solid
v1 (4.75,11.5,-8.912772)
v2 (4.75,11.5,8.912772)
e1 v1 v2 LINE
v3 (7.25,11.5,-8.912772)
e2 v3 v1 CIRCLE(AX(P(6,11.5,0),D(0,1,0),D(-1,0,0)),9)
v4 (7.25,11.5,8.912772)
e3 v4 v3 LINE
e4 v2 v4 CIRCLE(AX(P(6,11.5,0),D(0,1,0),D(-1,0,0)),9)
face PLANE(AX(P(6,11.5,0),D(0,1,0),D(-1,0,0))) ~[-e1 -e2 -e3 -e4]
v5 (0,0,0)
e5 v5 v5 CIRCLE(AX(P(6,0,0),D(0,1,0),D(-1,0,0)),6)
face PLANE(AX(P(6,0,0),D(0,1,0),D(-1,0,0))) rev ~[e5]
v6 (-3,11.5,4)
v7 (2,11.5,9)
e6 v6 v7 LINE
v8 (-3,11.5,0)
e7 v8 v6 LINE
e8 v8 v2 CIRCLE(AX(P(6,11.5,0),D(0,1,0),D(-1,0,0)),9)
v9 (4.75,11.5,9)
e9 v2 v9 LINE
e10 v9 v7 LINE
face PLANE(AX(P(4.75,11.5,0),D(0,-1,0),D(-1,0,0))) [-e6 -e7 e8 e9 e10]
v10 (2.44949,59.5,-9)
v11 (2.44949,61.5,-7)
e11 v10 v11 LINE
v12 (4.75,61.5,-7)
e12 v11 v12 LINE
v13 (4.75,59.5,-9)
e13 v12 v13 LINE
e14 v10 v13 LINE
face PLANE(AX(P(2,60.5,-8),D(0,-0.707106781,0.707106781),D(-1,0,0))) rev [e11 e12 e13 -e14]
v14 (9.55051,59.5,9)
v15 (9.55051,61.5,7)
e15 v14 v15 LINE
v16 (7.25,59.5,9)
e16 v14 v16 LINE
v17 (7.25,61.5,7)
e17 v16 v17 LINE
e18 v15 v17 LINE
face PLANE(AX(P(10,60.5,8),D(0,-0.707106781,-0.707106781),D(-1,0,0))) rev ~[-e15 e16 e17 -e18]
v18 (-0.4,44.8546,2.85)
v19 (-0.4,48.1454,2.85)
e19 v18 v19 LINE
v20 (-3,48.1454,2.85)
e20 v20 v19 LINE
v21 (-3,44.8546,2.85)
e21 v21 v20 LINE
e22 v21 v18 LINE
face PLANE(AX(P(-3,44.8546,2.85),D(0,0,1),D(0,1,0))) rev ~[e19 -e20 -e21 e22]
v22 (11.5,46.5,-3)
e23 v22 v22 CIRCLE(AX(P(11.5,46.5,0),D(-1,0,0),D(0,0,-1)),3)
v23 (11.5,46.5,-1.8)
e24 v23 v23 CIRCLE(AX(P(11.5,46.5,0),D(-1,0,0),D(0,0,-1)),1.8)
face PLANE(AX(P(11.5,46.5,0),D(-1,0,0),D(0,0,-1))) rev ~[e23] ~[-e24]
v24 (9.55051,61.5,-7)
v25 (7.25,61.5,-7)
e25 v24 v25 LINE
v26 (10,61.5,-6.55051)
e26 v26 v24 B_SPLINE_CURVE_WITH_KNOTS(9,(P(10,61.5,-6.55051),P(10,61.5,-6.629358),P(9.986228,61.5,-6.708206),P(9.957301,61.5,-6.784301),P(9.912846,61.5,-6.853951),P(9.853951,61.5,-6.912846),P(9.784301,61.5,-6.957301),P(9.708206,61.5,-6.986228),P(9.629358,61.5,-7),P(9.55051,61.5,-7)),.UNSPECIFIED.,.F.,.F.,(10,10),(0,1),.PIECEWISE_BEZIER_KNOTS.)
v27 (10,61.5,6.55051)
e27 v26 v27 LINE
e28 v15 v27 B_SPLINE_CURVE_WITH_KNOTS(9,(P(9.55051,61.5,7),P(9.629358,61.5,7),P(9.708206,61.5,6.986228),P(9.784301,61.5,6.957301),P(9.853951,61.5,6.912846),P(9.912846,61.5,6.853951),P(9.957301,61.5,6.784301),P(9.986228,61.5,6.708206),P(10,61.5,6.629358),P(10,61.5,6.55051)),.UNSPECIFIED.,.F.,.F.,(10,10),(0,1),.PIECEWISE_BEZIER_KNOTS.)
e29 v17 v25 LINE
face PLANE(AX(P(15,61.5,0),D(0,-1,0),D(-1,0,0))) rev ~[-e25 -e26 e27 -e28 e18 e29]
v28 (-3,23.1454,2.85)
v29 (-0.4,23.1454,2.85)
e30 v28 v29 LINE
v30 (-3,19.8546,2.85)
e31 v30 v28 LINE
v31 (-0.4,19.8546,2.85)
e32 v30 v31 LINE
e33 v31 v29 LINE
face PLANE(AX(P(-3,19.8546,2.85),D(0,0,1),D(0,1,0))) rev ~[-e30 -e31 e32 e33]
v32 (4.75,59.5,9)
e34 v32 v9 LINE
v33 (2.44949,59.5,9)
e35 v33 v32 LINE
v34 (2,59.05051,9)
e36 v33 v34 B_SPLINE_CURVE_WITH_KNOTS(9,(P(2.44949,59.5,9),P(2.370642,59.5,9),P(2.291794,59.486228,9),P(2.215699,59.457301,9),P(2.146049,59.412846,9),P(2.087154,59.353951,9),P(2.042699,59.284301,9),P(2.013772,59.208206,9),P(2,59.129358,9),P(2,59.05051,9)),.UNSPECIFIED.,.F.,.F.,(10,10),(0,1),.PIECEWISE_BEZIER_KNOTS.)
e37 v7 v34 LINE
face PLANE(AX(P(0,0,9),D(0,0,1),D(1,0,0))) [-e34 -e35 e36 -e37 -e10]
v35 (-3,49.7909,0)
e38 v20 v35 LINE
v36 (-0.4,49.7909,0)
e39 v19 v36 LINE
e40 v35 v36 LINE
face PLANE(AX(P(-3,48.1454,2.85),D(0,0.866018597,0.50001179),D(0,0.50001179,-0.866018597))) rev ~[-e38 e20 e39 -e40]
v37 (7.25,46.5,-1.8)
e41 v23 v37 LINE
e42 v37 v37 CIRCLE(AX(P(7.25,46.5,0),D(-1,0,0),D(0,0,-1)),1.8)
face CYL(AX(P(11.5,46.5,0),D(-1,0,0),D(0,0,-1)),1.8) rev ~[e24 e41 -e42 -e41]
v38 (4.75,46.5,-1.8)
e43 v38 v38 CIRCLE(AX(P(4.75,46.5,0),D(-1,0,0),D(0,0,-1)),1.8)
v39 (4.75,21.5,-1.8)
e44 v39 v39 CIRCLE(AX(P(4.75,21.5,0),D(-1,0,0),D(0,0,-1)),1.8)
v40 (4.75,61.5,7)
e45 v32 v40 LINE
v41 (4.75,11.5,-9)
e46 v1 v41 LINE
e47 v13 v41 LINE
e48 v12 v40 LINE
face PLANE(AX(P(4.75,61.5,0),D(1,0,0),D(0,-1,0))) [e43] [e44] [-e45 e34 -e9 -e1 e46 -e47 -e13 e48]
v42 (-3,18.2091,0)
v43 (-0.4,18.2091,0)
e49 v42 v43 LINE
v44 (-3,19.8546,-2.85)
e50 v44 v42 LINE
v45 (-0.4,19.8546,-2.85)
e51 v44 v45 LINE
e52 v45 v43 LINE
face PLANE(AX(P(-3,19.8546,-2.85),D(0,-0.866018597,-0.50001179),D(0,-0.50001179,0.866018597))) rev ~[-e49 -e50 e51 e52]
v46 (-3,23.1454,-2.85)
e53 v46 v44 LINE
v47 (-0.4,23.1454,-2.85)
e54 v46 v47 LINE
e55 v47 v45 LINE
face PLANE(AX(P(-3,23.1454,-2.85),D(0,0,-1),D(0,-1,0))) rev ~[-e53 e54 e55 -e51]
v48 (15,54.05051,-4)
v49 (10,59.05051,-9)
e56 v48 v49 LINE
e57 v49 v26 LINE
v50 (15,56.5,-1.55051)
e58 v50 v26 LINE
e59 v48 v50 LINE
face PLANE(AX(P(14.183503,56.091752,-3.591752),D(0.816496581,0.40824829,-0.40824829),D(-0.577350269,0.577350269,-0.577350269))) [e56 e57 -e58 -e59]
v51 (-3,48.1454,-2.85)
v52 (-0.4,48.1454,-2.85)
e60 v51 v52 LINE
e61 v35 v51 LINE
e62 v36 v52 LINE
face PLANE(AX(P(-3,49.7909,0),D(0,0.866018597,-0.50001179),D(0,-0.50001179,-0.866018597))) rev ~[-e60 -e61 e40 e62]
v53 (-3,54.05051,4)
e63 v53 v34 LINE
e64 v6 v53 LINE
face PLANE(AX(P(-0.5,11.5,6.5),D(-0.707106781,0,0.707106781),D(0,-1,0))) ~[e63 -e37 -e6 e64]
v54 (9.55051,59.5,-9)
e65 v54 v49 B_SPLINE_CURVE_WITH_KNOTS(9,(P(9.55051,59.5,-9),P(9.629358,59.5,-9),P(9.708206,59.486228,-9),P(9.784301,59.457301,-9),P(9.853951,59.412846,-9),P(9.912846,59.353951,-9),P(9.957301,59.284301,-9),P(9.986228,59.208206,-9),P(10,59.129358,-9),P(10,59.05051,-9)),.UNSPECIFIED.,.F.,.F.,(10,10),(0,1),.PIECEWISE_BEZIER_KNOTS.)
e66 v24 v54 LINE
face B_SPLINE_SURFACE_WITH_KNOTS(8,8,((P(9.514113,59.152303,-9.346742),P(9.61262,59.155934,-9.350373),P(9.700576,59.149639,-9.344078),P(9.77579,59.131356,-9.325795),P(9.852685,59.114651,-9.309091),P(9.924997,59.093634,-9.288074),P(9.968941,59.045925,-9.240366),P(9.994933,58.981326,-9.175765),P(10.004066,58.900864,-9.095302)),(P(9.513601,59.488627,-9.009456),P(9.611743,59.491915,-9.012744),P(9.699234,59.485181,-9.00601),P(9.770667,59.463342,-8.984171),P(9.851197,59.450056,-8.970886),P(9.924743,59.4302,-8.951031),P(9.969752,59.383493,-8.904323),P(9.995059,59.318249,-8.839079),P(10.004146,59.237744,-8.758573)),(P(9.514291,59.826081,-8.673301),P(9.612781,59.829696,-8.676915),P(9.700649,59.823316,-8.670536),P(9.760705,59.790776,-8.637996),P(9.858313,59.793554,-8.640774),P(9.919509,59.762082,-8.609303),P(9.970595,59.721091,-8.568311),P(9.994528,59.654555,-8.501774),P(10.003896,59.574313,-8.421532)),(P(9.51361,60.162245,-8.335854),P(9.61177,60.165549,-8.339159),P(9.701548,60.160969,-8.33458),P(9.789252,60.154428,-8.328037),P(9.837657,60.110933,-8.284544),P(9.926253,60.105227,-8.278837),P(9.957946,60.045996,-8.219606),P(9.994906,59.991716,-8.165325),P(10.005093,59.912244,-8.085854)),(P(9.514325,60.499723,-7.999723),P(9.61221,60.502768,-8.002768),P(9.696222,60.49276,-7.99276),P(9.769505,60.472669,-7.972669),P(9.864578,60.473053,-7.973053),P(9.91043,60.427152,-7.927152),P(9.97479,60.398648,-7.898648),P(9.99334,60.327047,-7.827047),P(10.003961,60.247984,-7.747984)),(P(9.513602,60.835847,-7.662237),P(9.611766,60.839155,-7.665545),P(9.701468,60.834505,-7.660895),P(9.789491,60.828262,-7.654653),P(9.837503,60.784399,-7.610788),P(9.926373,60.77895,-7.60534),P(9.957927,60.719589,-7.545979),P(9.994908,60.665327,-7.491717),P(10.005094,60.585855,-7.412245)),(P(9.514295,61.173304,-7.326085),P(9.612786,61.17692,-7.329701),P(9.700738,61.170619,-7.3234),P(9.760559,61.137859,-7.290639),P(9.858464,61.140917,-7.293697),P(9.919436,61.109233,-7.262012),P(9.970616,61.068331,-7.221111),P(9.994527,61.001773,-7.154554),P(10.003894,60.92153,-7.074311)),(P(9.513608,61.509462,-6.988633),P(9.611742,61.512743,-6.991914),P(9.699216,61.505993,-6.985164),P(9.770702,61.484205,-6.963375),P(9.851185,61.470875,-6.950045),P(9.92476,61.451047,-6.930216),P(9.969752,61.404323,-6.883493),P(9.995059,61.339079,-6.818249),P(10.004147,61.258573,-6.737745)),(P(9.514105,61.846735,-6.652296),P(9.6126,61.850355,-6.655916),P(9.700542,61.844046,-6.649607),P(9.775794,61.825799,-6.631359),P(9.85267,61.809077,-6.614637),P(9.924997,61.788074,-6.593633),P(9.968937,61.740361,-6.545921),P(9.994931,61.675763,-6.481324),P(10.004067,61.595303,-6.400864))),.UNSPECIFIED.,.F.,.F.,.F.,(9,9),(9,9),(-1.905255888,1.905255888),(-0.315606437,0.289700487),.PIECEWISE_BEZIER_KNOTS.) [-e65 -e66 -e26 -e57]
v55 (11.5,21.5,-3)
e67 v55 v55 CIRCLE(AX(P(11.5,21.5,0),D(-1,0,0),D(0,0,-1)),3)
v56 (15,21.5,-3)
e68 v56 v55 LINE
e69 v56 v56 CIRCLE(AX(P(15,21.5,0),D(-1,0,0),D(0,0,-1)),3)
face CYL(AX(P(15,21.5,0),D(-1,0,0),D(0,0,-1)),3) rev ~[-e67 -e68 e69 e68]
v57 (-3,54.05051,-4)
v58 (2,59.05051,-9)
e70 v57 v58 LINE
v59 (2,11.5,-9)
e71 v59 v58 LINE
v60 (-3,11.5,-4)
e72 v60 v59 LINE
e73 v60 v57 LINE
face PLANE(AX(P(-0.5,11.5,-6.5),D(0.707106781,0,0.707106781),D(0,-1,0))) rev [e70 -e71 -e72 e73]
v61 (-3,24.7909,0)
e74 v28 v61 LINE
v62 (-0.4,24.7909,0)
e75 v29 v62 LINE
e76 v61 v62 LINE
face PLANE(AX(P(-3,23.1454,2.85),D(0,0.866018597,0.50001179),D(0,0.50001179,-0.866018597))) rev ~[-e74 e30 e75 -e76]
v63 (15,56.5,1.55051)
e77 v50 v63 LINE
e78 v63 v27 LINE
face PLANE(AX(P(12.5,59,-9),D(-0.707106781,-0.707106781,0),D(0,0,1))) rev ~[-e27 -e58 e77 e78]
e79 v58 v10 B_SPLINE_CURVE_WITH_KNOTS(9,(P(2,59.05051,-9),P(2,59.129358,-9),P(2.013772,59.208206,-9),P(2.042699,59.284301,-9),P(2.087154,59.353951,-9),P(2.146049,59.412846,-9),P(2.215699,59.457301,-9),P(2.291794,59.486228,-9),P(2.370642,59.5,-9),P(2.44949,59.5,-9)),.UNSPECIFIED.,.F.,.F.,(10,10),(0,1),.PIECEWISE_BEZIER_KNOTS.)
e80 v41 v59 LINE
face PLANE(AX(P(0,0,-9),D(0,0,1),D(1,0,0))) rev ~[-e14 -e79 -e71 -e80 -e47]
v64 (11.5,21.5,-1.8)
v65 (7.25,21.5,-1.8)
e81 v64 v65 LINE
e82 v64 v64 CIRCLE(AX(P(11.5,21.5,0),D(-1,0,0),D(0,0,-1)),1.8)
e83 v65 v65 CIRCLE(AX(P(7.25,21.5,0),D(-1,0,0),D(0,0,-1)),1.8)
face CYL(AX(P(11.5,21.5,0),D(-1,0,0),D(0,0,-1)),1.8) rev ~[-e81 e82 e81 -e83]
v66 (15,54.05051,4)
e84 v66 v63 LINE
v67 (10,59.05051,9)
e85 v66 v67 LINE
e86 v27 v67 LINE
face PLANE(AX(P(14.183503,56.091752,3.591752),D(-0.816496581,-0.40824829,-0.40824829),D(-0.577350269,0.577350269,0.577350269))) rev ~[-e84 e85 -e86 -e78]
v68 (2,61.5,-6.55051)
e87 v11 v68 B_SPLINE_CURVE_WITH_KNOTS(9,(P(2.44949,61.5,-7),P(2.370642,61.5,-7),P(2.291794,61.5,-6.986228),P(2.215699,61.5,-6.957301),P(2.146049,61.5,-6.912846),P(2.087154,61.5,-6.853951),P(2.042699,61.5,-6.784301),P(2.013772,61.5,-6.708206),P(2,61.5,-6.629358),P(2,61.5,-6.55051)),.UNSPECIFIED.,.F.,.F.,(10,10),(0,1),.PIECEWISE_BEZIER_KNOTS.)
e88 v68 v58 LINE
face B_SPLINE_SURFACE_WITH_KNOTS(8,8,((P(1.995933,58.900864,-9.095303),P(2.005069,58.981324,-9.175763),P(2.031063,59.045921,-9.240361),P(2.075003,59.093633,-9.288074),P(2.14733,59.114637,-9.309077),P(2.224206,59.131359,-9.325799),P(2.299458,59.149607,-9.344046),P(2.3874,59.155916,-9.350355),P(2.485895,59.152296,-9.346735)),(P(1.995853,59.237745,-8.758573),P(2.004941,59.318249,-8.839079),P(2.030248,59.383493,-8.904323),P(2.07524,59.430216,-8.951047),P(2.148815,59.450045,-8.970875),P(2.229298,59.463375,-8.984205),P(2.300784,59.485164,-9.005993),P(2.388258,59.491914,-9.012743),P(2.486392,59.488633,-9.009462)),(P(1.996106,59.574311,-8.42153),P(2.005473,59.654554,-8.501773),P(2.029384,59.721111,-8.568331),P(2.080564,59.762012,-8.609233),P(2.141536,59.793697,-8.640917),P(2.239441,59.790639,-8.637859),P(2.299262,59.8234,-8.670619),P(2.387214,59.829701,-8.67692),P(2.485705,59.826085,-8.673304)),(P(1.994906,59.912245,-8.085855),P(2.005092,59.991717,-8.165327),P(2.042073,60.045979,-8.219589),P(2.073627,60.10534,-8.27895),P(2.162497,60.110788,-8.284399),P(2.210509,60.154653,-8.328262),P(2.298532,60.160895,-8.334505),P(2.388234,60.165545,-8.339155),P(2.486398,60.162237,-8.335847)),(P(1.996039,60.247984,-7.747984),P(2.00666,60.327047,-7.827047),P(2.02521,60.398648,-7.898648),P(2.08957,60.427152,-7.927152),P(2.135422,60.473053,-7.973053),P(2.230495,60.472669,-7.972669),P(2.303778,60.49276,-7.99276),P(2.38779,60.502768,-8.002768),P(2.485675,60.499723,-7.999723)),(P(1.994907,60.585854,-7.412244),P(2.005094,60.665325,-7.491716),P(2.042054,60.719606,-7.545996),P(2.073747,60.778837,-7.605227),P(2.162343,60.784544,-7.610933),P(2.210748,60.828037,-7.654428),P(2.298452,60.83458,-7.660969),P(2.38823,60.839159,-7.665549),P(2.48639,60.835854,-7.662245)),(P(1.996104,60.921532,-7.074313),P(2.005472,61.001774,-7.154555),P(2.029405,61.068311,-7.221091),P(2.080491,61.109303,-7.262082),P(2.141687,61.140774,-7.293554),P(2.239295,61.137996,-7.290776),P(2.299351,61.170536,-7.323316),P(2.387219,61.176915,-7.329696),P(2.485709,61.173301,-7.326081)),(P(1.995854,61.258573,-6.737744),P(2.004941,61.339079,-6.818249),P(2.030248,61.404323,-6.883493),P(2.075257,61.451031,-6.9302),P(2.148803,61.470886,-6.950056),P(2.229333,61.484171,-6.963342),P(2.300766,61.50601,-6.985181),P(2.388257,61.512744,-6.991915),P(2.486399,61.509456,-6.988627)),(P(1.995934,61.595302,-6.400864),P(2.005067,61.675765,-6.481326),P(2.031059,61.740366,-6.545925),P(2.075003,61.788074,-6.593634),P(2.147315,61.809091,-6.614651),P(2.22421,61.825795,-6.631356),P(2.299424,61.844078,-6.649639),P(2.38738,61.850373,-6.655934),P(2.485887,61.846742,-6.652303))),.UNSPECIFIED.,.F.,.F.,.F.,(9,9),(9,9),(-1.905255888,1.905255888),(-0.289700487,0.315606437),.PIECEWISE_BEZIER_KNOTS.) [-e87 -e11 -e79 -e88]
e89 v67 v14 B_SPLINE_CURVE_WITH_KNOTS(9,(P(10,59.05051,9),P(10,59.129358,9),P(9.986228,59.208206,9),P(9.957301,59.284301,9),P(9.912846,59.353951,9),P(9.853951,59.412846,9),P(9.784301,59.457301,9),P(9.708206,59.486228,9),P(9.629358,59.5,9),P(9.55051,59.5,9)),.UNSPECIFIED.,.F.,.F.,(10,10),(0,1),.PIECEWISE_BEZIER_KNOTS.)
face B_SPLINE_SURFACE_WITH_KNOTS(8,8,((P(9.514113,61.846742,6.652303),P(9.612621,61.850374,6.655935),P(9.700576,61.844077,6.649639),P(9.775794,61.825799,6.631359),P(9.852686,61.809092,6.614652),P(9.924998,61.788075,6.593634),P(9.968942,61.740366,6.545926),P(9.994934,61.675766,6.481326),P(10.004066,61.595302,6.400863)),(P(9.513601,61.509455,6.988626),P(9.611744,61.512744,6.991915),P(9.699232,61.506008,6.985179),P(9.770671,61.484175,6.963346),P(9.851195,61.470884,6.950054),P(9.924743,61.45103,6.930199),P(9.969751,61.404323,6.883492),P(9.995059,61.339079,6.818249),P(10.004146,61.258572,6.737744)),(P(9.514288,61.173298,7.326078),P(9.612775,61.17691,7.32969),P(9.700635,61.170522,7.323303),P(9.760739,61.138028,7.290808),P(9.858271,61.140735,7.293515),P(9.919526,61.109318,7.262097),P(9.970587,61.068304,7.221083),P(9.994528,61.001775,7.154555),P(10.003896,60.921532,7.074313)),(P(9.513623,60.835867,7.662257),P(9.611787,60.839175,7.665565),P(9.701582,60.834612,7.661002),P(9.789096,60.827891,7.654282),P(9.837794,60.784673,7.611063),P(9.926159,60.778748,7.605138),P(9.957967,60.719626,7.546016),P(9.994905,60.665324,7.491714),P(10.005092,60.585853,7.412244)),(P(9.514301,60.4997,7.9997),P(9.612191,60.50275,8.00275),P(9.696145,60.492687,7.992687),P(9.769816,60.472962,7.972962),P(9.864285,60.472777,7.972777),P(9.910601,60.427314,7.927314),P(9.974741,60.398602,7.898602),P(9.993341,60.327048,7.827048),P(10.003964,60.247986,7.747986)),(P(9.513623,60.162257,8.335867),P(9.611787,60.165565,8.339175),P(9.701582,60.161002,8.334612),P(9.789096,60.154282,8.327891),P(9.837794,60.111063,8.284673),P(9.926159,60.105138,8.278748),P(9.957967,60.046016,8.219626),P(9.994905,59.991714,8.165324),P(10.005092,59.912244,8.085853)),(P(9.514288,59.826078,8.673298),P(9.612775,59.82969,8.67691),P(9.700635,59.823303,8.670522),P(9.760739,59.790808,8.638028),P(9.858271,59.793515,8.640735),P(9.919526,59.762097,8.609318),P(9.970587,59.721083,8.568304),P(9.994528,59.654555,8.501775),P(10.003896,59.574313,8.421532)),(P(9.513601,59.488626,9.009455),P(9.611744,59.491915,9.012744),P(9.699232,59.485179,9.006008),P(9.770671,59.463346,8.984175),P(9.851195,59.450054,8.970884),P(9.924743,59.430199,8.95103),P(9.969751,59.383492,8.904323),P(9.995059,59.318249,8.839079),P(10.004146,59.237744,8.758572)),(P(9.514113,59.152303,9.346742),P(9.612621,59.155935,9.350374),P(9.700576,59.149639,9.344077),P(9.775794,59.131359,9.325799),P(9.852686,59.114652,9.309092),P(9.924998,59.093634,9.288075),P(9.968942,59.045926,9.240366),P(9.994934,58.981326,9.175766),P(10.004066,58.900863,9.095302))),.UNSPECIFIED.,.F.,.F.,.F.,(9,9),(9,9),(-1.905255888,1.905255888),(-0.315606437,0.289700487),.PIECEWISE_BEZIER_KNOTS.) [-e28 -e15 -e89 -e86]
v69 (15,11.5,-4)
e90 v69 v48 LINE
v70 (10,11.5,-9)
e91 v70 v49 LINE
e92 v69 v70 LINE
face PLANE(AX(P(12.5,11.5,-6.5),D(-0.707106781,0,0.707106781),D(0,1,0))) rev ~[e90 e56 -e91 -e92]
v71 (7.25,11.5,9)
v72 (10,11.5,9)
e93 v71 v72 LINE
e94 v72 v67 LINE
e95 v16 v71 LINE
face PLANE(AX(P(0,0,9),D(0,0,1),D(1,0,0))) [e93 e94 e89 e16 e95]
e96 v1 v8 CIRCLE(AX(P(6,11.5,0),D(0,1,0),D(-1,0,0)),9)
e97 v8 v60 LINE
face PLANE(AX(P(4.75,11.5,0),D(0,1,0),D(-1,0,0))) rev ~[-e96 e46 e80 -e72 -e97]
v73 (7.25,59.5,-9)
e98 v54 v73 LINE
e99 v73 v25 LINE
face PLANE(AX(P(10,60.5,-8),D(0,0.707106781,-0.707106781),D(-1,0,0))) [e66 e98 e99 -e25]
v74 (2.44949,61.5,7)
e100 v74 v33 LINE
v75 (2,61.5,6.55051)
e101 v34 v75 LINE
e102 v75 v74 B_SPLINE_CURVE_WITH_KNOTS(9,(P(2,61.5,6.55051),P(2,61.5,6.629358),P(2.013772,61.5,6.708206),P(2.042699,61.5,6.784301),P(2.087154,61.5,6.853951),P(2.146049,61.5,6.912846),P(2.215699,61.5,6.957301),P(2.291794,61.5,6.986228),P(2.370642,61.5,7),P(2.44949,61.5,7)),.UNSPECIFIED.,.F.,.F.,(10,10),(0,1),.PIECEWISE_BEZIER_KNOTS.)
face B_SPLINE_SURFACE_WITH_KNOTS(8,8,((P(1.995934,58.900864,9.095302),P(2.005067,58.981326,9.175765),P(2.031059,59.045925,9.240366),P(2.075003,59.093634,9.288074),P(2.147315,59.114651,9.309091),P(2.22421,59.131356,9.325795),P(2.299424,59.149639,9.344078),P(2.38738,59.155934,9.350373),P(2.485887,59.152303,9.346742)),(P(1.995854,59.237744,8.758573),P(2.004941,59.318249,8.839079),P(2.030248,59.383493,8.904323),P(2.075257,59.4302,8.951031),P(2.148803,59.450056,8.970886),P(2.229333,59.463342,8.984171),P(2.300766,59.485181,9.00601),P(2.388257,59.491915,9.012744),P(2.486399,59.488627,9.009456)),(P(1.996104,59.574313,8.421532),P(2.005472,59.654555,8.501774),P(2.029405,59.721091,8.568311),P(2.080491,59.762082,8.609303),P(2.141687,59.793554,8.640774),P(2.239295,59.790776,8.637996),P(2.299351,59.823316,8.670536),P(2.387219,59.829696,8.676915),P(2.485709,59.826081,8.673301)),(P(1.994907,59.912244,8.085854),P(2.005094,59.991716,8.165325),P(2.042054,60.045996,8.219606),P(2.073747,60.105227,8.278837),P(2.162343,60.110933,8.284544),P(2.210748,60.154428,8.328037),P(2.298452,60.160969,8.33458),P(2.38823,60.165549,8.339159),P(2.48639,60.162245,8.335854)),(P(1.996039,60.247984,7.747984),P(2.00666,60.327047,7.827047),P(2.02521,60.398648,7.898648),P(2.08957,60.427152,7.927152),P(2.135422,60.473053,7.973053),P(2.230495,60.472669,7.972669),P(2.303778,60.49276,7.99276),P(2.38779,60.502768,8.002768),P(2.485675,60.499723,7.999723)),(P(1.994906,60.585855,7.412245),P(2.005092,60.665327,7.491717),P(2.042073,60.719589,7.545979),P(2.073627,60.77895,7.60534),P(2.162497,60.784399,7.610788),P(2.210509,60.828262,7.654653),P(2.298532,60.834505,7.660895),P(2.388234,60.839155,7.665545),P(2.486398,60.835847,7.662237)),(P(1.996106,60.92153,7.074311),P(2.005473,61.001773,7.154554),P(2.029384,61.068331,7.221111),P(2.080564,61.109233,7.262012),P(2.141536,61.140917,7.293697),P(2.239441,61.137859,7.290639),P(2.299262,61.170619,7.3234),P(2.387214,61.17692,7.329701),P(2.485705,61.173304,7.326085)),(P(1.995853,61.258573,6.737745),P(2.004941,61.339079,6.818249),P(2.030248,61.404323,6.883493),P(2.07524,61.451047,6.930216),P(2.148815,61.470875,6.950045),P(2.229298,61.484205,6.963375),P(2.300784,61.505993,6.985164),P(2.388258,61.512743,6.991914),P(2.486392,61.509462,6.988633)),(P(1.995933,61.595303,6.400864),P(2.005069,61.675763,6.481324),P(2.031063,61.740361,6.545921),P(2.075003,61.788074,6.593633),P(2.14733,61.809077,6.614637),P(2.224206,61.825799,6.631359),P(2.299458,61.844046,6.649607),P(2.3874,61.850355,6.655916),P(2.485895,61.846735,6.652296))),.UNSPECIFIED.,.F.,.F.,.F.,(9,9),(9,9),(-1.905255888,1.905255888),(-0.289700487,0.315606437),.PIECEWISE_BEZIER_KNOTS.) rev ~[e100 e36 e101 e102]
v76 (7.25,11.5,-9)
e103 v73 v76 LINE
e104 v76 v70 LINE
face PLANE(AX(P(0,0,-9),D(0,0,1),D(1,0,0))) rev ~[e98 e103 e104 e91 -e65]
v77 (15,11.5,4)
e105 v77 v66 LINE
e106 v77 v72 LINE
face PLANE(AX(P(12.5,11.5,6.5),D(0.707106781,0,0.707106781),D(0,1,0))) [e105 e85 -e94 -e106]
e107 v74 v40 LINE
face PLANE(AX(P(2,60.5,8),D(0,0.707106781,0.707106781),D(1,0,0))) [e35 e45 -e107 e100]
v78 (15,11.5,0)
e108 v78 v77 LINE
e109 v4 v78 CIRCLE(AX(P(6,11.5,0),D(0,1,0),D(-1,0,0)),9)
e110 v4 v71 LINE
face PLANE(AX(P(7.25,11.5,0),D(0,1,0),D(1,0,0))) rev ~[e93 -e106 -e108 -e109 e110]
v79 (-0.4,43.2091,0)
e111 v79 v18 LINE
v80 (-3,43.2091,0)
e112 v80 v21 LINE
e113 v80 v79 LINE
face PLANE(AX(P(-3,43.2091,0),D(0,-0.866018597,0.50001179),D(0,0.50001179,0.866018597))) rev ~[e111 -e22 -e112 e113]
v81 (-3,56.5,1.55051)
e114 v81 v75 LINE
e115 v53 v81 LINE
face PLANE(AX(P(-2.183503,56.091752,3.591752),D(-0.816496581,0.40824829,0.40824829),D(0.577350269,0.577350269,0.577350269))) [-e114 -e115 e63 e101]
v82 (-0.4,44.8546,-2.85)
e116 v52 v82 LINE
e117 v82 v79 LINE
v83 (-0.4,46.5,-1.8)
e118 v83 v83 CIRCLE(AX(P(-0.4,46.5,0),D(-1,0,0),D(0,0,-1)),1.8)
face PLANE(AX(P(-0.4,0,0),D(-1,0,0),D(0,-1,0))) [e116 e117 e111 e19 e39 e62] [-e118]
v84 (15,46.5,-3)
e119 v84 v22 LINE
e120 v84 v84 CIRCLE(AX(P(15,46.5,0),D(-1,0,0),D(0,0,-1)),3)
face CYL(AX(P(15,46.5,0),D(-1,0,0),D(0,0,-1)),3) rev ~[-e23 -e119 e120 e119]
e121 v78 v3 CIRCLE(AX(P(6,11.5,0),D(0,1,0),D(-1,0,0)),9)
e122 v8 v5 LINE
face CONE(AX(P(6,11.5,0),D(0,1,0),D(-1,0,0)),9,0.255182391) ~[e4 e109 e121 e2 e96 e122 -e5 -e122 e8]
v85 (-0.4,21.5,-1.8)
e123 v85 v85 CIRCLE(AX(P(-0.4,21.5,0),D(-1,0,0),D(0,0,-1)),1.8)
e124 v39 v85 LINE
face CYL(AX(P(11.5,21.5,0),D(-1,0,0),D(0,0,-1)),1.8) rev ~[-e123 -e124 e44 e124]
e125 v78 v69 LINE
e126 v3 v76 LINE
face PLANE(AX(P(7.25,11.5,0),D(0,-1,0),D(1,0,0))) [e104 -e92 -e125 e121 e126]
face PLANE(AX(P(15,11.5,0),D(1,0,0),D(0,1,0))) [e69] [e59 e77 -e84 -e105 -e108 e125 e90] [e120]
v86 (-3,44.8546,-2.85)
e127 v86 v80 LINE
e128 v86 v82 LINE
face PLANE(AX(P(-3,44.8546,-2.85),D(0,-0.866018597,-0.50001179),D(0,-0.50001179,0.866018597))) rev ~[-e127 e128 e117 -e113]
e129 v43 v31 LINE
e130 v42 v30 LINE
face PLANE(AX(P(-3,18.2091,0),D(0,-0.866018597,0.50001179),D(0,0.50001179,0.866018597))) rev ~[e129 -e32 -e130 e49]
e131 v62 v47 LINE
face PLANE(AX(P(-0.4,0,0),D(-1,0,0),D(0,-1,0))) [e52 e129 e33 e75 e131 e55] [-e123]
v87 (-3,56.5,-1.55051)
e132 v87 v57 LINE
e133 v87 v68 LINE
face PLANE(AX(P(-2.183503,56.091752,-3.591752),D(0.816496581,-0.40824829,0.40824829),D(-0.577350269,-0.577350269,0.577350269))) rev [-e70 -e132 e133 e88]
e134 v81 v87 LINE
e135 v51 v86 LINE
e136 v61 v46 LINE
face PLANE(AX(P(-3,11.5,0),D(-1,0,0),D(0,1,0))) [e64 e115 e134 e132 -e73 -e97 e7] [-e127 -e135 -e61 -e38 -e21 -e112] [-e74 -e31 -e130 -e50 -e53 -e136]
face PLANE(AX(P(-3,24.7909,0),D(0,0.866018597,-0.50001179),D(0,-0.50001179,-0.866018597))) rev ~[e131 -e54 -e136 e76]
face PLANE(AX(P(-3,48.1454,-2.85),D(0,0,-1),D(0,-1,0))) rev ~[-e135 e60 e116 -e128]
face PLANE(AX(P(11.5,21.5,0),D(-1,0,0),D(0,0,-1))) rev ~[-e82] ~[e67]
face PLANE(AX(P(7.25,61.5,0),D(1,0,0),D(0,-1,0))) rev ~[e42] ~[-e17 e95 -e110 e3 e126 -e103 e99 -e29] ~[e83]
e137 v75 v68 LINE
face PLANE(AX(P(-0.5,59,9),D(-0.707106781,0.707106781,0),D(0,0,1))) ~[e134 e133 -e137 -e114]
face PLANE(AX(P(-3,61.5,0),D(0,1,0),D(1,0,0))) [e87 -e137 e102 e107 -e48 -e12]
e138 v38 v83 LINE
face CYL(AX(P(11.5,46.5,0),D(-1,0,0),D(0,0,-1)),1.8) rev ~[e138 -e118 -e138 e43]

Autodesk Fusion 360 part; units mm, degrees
sketch "Skizze1" plane through (0, 0, 0) normal (0, 0, 1) x (1, 0, 0)
  line L0 (0, 0) -> (12, 0)
  line L1 (6, 0) -> (6, 11.5)
  line L2 (6, 11.5) -> (15, 11.5)
  line L3 (6, 11.5) -> (-3, 11.5)
  line L4 (-3, 11.5) -> (0, 0)
  line L5 (12, 0) -> (15, 11.5)
  line L6 (6, 11.5) -> (7.25, 11.5)
  line L7 (6, 11.5) -> (4.75, 11.5)
  line L8 (7.25, 11.5) -> (15, 11.5)
  line L9 (15, 11.5) -> (15, 61.5)
  line L10 (15, 61.5) -> (7.25, 61.5)
  line L11 (7.25, 61.5) -> (7.25, 11.5)
  line L12 (4.75, 11.5) -> (-3, 11.5)
  line L13 (-3, 11.5) -> (-3, 61.5)
  line L14 (-3, 61.5) -> (4.75, 61.5)
  line L15 (4.75, 61.5) -> (4.75, 11.5)
  dimension "d1" = 12
  dimension "d2" = 11.5
  dimension "d3" = 9
  dimension "d4" = 9
  dimension "d5" = 1.25
  dimension "d6" = 1.25
  dimension "d7" = 50
  dimension "d8" = 50
revolve "Drehen1" add sketch "Skizze1" angle 360 about axis through (6, 0, 0) along (0, 1, 0) contours L0 L1 L3 L4 L7 L12
extrude "Extrusion1" add sketch "Skizze1" along normal blind 9 contours L3 L12 L13 L14 L15 | L2 L8 L9 L10 L11
extrude "Extrusion2" add sketch "Skizze1" against normal blind 9 contours L3 L12 L13 L14 L15 | L2 L8 L9 L10 L11
chamfer "Fase1" distance 5 angle 45 6 edges at (-3, 61.5, 0) (-3, 36.5, 9) (-3, 36.5, -9) (15, 36.5, 9) (15, 36.5, -9) (15, 61.5, 0)
sketch "Skizze2" plane through (15, 0, 0) normal (1, 0, 0) x (0, 1, 0)
  line L0 (56.5, 4) -> (11.5, 4)
  line L1 (11.5, 4) -> (11.5, 0)
  line L2 (11.5, 0) -> (11.5, -4)
  line L3 (11.5, -4) -> (56.5, -4)
  line L4 (56.5, -4) -> (56.5, 4)
  line L5 (11.5, 0) -> (21.5, 0)
  line L6 (56.5, 0) -> (46.5, 0)
  dimension "d15" = 10
  dimension "d16" = 10
sketch "Skizze3" plane through (-3, 0, 0) normal (-1, 0, 0) x (0, -1, 0)
  line L0 (-56.5, -4) -> (-11.5, -4)
  line L1 (-11.5, -4) -> (-11.5, 0)
  line L2 (-11.5, 0) -> (-11.5, 4)
  line L3 (-11.5, 4) -> (-56.5, 4)
  line L4 (-56.5, 4) -> (-56.5, -4)
  line L5 (-11.5, 0) -> (-21.5, 0)
  line L6 (-56.5, 0) -> (-46.5, 0)
  line L7 (-48.1454, 2.85) -> (-49.7909, 0)
  line L8 (-49.7909, 0) -> (-48.1454, -2.85)
  line L9 (-48.1454, -2.85) -> (-44.8546, -2.85)
  line L10 (-44.8546, -2.85) -> (-43.2091, 0)
  line L11 (-43.2091, 0) -> (-44.8546, 2.85)
  line L12 (-44.8546, 2.85) -> (-48.1454, 2.85)
  line L13 (-23.1454, 2.85) -> (-24.7909, 0)
  line L14 (-24.7909, 0) -> (-23.1454, -2.85)
  line L15 (-23.1454, -2.85) -> (-19.8546, -2.85)
  line L16 (-19.8546, -2.85) -> (-18.2091, 0)
  line L17 (-18.2091, 0) -> (-19.8546, 2.85)
  line L18 (-19.8546, 2.85) -> (-23.1454, 2.85)
  point P0 (-56.5, 0)
  point P1 (-46.5, 0)
  point P2 (-21.5, 0)
  dimension "d17" = 10
  dimension "d18" = 10
  dimension "d29" = 2.85
  dimension "d30" = 2.85
hole "Bohrung1" at (15, 46.5, 0) direction (-1, 0, 0) diameter 3.6 depth 25 tip angle 180 counterbore diameter 6 counterbore depth 3.5
hole "Bohrung2" at (15, 21.5, 0) direction (-1, 0, 0) diameter 3.6 depth 25 tip angle 180 counterbore diameter 6 counterbore depth 3.5
extrude "Extrusion3" cut sketch "Skizze3" against normal blind 2.6 contours L13 L14 L15 L16 L17 L18 | L7 L8 L9 L10 L11 L12
chamfer "Fase2" distance 2 angle 45 8 edges at (8.625, 61.5, 9) (12.5, 59, 6.5) (12.5, 59, -6.5) (8.625, 61.5, -9) (-0.5, 59, -6.5) (3.375, 61.5, -9) (-0.5, 59, 6.5) (3.375, 61.5, 9)
